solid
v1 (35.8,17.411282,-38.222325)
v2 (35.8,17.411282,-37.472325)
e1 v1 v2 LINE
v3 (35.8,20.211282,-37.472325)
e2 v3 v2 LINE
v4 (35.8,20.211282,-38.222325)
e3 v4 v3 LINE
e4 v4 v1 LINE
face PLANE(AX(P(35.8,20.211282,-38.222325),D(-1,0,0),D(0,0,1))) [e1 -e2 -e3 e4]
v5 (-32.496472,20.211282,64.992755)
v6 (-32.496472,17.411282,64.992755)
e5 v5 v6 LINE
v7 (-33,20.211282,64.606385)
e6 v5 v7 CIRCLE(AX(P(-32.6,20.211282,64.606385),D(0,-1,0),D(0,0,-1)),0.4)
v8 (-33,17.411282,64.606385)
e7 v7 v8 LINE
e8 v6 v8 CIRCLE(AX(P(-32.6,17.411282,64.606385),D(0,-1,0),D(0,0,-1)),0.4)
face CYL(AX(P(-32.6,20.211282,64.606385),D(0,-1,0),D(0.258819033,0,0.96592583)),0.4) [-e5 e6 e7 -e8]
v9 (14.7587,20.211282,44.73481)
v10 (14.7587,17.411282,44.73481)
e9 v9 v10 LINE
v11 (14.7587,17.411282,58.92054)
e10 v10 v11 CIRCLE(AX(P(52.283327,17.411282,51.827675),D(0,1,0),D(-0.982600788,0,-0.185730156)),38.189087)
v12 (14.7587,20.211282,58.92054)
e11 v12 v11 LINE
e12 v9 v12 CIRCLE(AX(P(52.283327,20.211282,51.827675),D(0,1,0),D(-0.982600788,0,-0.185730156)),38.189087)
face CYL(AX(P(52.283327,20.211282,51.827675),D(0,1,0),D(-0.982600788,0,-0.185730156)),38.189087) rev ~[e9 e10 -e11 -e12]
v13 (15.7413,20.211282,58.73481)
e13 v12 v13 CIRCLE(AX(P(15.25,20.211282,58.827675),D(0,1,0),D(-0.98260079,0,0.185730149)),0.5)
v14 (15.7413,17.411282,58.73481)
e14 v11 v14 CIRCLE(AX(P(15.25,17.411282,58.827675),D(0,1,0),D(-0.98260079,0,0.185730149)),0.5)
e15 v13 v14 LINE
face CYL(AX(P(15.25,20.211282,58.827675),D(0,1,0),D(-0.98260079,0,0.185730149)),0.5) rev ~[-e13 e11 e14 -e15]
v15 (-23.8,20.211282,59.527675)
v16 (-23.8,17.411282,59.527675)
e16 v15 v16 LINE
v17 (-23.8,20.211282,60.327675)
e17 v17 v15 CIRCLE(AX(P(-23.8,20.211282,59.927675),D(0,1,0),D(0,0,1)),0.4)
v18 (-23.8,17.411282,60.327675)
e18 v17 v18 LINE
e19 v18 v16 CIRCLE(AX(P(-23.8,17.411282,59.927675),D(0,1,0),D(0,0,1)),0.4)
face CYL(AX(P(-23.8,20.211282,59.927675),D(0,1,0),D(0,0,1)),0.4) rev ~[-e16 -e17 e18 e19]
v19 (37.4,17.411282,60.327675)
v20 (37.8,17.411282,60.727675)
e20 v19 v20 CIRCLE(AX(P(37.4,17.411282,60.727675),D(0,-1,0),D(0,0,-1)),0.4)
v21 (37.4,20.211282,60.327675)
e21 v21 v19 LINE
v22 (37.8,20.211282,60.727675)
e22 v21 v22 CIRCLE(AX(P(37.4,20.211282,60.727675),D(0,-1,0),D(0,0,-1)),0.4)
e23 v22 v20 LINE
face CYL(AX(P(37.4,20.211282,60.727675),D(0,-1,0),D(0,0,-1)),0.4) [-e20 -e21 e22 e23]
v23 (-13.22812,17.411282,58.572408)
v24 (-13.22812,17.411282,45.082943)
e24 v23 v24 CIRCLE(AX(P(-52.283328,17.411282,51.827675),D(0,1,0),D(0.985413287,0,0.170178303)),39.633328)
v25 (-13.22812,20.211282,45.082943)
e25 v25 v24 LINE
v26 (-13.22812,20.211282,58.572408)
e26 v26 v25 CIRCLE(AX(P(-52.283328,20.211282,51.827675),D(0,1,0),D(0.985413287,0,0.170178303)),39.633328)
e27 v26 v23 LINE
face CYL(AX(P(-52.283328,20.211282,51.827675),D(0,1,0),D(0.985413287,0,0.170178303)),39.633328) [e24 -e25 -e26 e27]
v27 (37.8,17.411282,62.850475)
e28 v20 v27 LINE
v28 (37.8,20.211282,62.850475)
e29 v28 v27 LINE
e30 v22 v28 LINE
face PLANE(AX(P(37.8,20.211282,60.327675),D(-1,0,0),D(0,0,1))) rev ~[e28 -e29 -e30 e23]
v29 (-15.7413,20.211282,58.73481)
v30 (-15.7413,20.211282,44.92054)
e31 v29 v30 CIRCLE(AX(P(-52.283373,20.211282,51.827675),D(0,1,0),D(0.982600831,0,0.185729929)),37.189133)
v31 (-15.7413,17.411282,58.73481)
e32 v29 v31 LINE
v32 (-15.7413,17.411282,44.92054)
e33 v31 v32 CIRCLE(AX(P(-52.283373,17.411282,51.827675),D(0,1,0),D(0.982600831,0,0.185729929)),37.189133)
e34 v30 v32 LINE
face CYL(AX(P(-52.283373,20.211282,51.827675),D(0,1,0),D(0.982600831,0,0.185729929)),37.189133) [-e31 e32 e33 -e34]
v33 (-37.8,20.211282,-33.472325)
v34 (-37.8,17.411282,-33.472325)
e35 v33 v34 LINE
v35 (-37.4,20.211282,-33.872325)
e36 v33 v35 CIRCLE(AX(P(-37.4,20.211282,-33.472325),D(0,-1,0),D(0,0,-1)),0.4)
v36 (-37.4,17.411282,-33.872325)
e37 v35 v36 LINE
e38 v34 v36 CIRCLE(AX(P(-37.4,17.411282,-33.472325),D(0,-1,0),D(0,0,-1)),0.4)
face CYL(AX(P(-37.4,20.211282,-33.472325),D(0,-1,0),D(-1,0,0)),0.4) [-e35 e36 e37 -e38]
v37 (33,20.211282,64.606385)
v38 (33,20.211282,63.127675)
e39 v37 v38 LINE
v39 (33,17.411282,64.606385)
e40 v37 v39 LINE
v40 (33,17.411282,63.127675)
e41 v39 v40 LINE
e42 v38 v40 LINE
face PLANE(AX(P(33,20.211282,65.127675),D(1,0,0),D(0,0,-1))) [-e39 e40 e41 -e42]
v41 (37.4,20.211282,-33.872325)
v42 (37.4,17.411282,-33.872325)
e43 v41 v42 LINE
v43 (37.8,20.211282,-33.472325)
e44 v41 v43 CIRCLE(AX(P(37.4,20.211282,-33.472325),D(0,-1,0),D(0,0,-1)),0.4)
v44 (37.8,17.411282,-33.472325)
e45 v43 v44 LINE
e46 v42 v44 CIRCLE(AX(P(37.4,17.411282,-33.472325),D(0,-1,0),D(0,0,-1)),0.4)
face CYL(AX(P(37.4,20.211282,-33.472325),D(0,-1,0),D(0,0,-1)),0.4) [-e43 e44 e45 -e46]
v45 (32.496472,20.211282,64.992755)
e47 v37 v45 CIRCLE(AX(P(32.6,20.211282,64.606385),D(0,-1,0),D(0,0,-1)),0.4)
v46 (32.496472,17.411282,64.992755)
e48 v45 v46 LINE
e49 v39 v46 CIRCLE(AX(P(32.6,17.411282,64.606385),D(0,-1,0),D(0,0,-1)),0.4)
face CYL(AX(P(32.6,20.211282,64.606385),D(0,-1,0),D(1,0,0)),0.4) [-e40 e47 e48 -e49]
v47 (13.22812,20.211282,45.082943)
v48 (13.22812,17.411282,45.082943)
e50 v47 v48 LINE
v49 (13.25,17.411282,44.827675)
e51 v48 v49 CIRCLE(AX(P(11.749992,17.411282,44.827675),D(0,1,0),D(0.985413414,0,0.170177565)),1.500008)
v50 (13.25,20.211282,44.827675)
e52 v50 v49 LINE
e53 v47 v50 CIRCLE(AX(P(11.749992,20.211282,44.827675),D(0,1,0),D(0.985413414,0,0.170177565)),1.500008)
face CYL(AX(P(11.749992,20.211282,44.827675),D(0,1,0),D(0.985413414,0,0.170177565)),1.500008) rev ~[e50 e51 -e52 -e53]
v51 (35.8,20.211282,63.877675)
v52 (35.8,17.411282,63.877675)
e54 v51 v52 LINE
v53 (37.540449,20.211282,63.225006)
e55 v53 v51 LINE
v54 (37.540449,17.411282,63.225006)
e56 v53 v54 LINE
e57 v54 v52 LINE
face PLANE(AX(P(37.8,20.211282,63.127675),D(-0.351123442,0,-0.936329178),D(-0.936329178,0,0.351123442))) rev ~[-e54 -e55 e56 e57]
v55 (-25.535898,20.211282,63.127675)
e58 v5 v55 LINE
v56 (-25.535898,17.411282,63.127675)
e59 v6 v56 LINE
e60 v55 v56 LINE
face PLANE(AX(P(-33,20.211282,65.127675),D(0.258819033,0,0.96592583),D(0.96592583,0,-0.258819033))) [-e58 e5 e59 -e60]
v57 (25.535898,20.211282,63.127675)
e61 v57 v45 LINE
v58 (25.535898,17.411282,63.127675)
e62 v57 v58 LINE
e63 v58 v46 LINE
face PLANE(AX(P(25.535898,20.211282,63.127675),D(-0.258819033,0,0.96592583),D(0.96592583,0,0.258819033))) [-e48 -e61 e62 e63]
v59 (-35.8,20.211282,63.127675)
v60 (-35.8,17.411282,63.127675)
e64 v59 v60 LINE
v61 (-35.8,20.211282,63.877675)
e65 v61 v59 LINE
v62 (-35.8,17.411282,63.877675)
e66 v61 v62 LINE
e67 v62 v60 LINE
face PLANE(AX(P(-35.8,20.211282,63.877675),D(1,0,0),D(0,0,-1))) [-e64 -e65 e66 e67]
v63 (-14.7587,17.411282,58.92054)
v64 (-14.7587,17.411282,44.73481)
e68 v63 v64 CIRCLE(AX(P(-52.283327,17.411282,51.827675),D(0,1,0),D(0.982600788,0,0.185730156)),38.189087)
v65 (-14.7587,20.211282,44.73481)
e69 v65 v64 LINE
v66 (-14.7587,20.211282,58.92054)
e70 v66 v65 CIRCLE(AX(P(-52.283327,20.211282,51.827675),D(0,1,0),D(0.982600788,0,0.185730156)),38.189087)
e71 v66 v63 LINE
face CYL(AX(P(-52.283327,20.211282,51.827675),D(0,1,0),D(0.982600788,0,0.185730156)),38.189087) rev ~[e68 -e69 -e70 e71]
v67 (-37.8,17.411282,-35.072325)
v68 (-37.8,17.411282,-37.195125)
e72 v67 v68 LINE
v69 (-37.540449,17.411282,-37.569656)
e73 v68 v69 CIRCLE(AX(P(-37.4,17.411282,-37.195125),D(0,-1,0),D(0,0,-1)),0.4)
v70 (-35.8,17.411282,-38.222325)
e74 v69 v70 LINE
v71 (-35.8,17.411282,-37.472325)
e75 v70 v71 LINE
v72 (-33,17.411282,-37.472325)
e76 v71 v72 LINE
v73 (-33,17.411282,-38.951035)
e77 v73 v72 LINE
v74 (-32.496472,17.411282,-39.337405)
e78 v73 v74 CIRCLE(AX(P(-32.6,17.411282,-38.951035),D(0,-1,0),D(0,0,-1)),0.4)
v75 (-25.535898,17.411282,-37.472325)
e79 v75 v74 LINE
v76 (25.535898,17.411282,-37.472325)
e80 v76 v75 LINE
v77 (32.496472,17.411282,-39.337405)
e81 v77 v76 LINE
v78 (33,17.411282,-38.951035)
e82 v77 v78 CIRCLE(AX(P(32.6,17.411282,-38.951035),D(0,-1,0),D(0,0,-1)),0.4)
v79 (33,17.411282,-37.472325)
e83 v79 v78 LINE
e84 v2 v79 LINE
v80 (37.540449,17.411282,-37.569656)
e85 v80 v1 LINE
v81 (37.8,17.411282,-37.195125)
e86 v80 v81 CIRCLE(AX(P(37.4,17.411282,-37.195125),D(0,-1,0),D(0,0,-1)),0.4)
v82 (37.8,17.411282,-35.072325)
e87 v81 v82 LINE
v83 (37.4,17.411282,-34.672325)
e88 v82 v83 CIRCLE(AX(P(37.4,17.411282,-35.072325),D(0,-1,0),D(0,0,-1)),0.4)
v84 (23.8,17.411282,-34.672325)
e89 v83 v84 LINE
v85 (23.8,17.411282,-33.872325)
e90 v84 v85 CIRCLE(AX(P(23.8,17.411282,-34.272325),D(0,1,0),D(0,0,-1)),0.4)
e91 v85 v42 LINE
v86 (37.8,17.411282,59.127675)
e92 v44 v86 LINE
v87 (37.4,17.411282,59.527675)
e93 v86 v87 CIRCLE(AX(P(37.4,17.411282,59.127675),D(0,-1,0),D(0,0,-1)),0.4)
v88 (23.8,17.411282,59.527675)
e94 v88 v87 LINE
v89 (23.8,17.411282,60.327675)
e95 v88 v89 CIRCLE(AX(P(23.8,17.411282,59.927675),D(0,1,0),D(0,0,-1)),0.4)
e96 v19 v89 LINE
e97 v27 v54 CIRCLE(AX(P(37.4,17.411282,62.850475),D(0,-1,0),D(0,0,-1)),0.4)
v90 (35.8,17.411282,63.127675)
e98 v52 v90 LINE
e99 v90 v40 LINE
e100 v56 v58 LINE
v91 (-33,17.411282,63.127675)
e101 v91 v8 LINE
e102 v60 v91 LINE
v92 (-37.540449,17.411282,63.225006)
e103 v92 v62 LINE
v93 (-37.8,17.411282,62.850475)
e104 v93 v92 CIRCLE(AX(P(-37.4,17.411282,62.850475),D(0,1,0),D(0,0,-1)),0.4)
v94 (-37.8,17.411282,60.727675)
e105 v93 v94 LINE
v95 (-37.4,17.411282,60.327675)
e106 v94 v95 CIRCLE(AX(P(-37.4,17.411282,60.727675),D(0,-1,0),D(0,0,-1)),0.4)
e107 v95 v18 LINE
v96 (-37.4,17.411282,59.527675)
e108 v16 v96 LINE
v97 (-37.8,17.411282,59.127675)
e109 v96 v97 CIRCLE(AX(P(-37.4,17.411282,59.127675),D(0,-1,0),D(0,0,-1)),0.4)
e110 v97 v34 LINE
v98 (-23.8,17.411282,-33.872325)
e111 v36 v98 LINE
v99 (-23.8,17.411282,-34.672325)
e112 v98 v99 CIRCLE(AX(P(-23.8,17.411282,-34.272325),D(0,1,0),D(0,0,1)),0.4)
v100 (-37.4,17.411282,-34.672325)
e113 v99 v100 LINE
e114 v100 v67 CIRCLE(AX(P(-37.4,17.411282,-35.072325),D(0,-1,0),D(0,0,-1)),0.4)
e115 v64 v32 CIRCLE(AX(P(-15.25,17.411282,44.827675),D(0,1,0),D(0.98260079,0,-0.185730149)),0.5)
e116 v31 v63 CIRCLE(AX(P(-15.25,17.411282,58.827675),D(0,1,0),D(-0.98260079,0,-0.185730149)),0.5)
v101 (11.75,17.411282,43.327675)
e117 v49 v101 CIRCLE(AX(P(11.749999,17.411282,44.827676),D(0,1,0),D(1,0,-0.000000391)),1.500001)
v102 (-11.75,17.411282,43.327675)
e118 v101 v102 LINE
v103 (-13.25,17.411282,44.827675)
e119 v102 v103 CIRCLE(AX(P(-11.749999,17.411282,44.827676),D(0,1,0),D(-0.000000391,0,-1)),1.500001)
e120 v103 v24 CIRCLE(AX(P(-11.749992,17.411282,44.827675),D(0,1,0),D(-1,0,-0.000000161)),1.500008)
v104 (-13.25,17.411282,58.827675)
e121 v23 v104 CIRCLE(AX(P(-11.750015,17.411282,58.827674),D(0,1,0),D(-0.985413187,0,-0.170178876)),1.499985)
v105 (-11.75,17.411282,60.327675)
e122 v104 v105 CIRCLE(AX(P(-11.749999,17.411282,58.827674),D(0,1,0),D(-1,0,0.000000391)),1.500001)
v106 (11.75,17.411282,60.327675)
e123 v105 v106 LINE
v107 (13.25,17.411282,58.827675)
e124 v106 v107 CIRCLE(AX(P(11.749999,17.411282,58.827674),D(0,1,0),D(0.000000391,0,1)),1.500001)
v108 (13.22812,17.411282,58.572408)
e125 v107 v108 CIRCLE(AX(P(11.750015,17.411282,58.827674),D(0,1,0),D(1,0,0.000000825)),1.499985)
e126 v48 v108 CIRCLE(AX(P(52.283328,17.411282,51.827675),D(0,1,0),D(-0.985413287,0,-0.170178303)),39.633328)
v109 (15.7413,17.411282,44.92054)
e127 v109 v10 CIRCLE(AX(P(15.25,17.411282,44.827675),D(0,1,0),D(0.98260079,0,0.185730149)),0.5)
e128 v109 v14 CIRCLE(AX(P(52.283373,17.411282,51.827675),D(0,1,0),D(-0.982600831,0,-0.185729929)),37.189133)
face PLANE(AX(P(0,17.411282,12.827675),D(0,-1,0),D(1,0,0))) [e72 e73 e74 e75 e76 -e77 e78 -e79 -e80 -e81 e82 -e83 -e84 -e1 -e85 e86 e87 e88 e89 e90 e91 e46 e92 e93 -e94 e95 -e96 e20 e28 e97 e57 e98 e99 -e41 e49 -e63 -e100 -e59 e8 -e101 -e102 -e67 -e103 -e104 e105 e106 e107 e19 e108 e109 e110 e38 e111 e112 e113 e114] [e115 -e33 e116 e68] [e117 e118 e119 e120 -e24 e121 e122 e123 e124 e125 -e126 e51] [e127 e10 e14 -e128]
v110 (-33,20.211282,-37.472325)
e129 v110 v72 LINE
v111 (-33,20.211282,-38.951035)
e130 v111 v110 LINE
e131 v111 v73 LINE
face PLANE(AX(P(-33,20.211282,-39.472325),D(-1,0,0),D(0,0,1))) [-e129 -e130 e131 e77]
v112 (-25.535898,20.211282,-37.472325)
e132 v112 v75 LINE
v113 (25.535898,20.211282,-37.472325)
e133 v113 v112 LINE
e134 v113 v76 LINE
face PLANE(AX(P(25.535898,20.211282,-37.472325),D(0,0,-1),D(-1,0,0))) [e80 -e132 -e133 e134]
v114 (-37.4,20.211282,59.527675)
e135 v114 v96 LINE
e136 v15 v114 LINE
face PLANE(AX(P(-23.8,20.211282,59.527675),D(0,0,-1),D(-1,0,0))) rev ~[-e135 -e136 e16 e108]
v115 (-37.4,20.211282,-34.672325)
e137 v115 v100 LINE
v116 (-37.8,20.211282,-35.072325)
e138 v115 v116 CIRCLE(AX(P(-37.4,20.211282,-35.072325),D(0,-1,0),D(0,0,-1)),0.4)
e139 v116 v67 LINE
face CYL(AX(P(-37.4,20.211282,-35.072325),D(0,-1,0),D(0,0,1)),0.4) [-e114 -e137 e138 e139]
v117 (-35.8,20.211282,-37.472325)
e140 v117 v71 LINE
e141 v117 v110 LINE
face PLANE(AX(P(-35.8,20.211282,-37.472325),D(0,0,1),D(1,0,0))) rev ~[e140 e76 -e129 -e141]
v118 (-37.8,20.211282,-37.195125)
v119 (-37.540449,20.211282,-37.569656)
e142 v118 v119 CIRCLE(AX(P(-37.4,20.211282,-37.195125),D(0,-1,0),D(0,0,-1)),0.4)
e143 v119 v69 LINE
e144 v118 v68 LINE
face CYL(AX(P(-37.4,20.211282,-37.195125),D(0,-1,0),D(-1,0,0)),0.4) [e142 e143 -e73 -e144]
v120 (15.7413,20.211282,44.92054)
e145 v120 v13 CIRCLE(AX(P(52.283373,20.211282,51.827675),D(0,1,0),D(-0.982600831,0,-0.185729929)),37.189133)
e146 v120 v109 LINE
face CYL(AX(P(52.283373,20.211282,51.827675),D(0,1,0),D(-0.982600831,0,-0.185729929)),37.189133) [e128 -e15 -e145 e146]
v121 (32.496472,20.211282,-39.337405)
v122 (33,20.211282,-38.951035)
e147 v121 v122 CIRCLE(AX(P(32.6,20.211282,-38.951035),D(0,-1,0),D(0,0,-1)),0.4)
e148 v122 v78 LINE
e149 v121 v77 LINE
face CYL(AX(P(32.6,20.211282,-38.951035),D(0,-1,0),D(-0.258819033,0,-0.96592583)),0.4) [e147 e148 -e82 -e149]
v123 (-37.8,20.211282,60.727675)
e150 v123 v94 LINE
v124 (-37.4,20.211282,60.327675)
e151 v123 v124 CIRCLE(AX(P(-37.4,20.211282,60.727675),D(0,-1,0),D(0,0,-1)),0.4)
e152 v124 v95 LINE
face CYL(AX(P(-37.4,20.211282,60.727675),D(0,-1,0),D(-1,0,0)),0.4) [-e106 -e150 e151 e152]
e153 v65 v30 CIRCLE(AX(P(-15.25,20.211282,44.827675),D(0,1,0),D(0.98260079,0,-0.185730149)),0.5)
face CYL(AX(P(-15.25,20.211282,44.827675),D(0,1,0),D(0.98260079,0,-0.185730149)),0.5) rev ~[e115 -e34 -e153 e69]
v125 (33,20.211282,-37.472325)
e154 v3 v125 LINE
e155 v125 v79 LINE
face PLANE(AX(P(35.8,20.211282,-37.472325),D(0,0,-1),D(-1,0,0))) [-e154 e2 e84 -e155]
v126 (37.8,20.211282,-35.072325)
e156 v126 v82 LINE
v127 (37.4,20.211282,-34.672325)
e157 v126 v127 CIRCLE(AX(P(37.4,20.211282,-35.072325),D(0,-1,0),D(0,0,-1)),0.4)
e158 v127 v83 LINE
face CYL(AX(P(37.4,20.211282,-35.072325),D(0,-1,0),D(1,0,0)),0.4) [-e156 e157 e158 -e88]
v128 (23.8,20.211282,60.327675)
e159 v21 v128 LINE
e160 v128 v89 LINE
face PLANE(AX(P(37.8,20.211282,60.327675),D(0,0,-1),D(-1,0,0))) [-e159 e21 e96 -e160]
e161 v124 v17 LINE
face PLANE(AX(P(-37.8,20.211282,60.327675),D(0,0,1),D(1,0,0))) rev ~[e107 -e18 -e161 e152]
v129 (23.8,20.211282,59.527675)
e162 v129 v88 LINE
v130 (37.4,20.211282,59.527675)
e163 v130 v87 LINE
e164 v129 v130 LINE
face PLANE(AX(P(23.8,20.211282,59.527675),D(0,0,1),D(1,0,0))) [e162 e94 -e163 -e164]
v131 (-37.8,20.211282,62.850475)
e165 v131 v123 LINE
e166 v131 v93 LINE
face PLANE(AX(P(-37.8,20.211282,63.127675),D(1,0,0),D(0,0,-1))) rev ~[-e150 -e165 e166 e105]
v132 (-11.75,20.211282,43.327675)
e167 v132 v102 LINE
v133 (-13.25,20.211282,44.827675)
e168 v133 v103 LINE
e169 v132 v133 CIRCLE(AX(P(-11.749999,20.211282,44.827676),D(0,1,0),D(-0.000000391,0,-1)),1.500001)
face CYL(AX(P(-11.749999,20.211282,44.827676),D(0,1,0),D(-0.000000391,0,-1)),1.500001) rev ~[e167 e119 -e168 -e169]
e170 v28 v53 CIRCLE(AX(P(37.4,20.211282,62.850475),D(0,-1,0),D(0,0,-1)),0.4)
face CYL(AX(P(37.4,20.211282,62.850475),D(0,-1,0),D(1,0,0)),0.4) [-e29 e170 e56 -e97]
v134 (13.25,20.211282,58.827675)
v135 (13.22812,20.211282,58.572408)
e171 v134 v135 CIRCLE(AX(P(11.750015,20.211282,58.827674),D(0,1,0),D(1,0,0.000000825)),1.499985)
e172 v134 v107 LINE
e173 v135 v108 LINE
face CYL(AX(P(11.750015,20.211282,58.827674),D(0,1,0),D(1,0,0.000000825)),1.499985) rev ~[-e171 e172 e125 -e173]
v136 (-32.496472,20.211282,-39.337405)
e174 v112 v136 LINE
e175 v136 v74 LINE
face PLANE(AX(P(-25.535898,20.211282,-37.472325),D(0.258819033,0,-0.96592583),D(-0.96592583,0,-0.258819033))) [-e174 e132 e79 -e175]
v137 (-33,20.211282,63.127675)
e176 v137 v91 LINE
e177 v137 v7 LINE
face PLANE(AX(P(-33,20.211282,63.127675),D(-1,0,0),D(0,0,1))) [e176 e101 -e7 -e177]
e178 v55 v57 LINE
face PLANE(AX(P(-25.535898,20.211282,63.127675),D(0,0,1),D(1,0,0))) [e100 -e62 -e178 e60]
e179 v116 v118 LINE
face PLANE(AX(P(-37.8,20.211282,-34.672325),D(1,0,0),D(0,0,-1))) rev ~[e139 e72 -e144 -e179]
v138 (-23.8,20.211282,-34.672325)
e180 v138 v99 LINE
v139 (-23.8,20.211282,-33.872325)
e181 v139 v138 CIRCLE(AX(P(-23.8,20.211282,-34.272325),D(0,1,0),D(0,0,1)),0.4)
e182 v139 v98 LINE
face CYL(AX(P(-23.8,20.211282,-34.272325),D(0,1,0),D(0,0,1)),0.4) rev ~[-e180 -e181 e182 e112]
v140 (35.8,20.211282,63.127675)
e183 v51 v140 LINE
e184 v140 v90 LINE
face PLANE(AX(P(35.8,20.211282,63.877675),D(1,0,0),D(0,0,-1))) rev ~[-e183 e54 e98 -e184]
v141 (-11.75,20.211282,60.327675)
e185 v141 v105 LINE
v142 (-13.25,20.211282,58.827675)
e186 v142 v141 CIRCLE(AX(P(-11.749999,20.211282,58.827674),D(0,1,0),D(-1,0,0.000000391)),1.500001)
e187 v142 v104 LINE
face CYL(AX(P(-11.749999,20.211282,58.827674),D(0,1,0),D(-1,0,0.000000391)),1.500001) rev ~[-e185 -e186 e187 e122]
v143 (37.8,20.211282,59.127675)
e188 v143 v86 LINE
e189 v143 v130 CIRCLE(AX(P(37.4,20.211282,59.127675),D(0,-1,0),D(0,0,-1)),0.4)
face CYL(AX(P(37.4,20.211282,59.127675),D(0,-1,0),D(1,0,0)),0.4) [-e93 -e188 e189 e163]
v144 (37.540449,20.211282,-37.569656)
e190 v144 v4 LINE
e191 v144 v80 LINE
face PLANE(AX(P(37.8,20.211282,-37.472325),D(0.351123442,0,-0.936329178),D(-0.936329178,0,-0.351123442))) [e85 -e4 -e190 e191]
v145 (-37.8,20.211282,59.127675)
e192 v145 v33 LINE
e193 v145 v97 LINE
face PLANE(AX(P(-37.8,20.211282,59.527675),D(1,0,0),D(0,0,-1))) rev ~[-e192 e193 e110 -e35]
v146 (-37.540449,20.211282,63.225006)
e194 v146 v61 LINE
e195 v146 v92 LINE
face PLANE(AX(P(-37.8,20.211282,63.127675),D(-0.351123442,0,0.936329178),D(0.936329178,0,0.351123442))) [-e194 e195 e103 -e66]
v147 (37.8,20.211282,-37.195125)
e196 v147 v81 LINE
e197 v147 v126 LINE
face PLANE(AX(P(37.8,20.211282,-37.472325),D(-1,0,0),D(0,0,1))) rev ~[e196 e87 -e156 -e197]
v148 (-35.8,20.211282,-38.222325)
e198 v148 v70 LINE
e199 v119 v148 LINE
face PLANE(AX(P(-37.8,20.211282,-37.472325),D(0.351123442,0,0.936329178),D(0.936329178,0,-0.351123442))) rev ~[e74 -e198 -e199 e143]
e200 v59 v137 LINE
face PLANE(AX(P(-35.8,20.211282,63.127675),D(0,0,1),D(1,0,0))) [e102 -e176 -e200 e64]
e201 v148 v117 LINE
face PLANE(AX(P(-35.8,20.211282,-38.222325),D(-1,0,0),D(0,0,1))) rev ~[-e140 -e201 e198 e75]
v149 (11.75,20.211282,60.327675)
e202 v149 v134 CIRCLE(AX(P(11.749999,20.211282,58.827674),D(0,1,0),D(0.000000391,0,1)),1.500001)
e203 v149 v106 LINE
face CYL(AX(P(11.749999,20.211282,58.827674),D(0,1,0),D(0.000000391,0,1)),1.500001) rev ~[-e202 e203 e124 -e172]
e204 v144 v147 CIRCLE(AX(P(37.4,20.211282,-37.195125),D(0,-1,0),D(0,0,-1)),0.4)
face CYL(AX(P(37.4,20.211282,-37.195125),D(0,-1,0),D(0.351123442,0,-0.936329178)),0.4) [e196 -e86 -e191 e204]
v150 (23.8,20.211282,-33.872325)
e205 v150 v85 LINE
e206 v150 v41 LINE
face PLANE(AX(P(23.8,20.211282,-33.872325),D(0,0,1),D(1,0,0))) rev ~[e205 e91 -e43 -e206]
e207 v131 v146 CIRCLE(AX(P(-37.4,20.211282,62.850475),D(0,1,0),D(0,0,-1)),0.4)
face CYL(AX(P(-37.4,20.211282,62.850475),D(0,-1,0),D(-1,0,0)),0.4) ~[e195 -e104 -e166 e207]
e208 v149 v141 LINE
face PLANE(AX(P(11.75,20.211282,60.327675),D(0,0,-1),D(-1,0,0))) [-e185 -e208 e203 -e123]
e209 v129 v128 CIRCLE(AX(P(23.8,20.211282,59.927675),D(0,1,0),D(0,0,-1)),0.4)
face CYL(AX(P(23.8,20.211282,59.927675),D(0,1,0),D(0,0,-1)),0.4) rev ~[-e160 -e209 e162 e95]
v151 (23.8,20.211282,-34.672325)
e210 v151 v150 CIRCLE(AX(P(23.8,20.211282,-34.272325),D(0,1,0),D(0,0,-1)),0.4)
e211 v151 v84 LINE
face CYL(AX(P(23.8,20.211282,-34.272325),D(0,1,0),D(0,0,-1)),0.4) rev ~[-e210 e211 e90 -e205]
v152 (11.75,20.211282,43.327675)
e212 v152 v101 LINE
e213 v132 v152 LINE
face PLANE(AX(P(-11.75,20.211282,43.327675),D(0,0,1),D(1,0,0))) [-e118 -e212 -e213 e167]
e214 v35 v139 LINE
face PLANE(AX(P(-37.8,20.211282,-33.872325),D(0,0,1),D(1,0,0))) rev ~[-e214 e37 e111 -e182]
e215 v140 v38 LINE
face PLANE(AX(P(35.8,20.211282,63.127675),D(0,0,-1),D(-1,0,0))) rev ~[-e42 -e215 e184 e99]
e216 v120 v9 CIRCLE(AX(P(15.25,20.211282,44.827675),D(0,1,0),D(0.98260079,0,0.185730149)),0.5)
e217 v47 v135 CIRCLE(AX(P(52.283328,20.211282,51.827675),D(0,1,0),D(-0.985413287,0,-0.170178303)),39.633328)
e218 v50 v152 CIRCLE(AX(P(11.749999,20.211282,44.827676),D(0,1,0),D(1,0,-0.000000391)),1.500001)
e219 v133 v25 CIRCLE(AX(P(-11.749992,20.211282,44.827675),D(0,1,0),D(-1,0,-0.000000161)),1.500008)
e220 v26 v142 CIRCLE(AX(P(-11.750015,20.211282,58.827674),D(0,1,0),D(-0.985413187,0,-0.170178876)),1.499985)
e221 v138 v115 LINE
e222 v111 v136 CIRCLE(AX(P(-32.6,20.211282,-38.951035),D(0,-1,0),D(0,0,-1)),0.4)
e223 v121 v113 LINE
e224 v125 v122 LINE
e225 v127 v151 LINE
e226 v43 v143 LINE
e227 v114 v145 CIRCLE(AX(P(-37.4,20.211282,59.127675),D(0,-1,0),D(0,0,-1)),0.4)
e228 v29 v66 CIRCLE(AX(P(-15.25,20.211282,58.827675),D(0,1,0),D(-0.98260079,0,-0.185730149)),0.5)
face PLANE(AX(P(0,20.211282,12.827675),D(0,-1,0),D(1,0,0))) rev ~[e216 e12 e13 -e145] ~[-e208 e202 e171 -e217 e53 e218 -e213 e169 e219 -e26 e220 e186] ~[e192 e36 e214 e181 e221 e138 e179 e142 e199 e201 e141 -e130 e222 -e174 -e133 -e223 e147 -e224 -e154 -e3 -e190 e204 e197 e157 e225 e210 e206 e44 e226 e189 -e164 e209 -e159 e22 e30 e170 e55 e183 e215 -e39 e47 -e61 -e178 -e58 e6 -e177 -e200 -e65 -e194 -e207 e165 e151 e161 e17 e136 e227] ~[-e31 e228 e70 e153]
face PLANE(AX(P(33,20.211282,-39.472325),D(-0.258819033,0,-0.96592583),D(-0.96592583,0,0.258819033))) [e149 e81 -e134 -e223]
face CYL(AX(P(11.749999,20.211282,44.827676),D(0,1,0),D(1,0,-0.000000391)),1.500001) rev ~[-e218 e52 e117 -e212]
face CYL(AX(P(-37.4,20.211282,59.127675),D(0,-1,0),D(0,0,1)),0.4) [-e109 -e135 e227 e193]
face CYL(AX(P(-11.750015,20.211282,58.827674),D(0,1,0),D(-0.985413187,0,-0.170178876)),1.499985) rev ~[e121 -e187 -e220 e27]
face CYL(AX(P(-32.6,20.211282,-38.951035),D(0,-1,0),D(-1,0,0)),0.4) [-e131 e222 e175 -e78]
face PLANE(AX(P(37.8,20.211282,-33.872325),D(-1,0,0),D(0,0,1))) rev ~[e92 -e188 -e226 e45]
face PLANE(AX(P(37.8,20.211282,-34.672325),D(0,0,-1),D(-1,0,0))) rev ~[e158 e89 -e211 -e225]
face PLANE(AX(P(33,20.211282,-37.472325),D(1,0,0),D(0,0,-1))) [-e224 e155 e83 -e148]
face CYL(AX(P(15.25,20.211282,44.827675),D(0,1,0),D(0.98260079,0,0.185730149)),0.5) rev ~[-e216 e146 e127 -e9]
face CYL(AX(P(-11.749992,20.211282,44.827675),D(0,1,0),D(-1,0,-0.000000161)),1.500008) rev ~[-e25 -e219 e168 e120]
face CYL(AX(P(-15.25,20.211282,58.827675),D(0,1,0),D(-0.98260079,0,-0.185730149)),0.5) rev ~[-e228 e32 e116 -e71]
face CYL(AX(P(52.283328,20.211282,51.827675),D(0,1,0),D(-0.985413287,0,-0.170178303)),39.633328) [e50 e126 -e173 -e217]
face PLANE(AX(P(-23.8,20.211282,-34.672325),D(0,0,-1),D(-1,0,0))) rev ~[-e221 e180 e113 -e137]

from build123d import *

# Parameters (mm, degrees)
PAD008_DEPTH    = 2.8
FILLET001_R     = 0.4
POCKET004_DEPTH = 2.801


with BuildPart() as part:
    # Sketch008 (on Face4 of ShapeBinder007) → Pad008 (new body)
    with BuildSketch(Plane(origin=(0, 20.211282, 0), x_dir=(-1, 0, 0), z_dir=(0, 1, 0))):
        with BuildLine():
            Line((37.8, 63.127675), (37.8, 60.327675))
            Line((37.8, 60.327675), (23.8, 60.327675))
            ThreePointArc((23.8, 60.327675), (23.4, 59.927675), (23.8, 59.527675))
            Line((23.8, 59.527675), (37.8, 59.527675))
            Line((37.8, 59.527675), (37.8, -33.872325))
            Line((37.8, -33.872325), (23.8, -33.872325))
            ThreePointArc((23.8, -33.872325), (23.4, -34.272325), (23.8, -34.672325))
            Line((23.8, -34.672325), (37.8, -34.672325))
            Line((37.8, -34.672325), (37.8, -37.472325))
            Line((37.8, -37.472325), (35.8, -38.222325))
            Line((35.8, -38.222325), (35.8, -37.472325))
            Line((35.8, -37.472325), (33, -37.472325))
            Line((33, -39.472325), (33, -37.472325))
            Line((25.535898, -37.472325), (33, -39.472325))
            Line((-25.535898, -37.472325), (25.535898, -37.472325))
            Line((-33, -39.472325), (-25.535898, -37.472325))
            Line((-33, -37.472325), (-33, -39.472325))
            Line((-35.8, -37.472325), (-33, -37.472325))
            Line((-35.8, -38.222325), (-35.8, -37.472325))
            Line((-37.8, -37.472325), (-35.8, -38.222325))
            Line((-37.8, -37.472325), (-37.8, -34.672325))
            Line((-37.8, -34.672325), (-23.8, -34.672325))
            ThreePointArc((-23.8, -34.672325), (-23.4, -34.272325), (-23.8, -33.872325))
            Line((-23.8, -33.872325), (-37.8, -33.872325))
            Line((-37.8, -33.872325), (-37.8, 59.527675))
            Line((-23.8, 59.527675), (-37.8, 59.527675))
            ThreePointArc((-23.8, 59.527675), (-23.4, 59.927675), (-23.8, 60.327675))
            Line((-37.8, 60.327675), (-23.8, 60.327675))
            Line((-37.8, 60.327675), (-37.8, 63.127675))
            Line((-37.8, 63.127675), (-35.8, 63.877675))
            Line((-35.8, 63.877675), (-35.8, 63.127675))
            Line((-35.8, 63.127675), (-33, 63.127675))
            Line((-33, 65.127675), (-33, 63.127675))
            Line((-25.535898, 63.127675), (-33, 65.127675))
            Line((25.535898, 63.127675), (-25.535898, 63.127675))
            Line((33, 65.127675), (25.535898, 63.127675))
            Line((33, 63.127675), (33, 65.127675))
            Line((35.8, 63.127675), (33, 63.127675))
            Line((35.8, 63.877675), (35.8, 63.127675))
            Line((37.8, 63.127675), (35.8, 63.877675))
        make_face()
    extrude(amount=-PAD008_DEPTH)

    # Fillet001
    fillet001_edges = [part.edges().sort_by_distance(p)[0] for p in [
        (-33, 18.811282, 65.127675),
        (-37.8, 18.811282, 63.127675),
        (-37.8, 18.811282, 60.327675),
        (-37.8, 18.811282, 59.527675),
        (-37.8, 18.811282, -33.872325),
        (-37.8, 18.811282, -34.672325),
        (-37.8, 18.811282, -37.472325),
        (-33, 18.811282, -39.472325),
        (33, 18.811282, -39.472325),
        (37.8, 18.811282, -37.472325),
        (37.8, 18.811282, -34.672325),
        (37.8, 18.811282, -33.872325),
        (33, 18.811282, 65.127675),
        (37.8, 18.811282, 63.127675),
        (37.8, 18.811282, 60.327675),
        (37.8, 18.811282, 59.527675),
    ]]
    fillet(fillet001_edges, radius=FILLET001_R)

    # Sketch017 (on Face2 of Fillet001) → Pocket004 (cut, through all)
    with BuildSketch(Plane(origin=(0, 20.211282, 0), x_dir=(-1, 0, 0), z_dir=(0, 1, 0))):
        with BuildLine():
            ThreePointArc((-11.75, 60.327675), (-12.81066, 59.888335), (-13.25, 58.827675))
            ThreePointArc((-13.25, 58.827675), (-13.24452, 58.699573), (-13.22812, 58.572408))
            ThreePointArc((-13.22812, 45.082943), (-12.65, 51.827675), (-13.22812, 58.572408))
            ThreePointArc((-13.22812, 45.082943), (-13.24452, 44.955777), (-13.25, 44.827675))
            ThreePointArc((-13.25, 44.827675), (-12.81066, 43.767015), (-11.75, 43.327675))
            Line((11.75, 43.327675), (-11.75, 43.327675))
            ThreePointArc((11.75, 43.327675), (12.81066, 43.767015), (13.25, 44.827675))
            ThreePointArc((13.25, 44.827675), (13.24452, 44.955777), (13.22812, 45.082943))
            ThreePointArc((13.22812, 58.572408), (12.65, 51.827675), (13.22812, 45.082943))
            ThreePointArc((13.22812, 58.572408), (13.24452, 58.699573), (13.25, 58.827675))
            ThreePointArc((13.25, 58.827675), (12.81066, 59.888335), (11.75, 60.327675))
            Line((-11.75, 60.327675), (11.75, 60.327675))
        make_face()
        with BuildLine():
            ThreePointArc((-14.7587, 44.73481), (-14.09424, 51.827675), (-14.7587, 58.92054))
            ThreePointArc((-14.7587, 58.92054), (-15.342865, 59.318975), (-15.7413, 58.73481))
            ThreePointArc((-15.7413, 44.92054), (-15.09424, 51.827675), (-15.7413, 58.73481))
            ThreePointArc((-15.7413, 44.92054), (-15.342865, 44.336375), (-14.7587, 44.73481))
        make_face()
        with BuildLine():
            ThreePointArc((14.7587, 58.92054), (14.09424, 51.827675), (14.7587, 44.73481))
            ThreePointArc((14.7587, 44.73481), (15.342865, 44.336375), (15.7413, 44.92054))
            ThreePointArc((15.7413, 58.73481), (15.09424, 51.827675), (15.7413, 44.92054))
            ThreePointArc((15.7413, 58.73481), (15.342865, 59.318975), (14.7587, 58.92054))
        make_face()
    extrude(amount=-POCKET004_DEPTH, mode=Mode.SUBTRACT)


solid = part.part
